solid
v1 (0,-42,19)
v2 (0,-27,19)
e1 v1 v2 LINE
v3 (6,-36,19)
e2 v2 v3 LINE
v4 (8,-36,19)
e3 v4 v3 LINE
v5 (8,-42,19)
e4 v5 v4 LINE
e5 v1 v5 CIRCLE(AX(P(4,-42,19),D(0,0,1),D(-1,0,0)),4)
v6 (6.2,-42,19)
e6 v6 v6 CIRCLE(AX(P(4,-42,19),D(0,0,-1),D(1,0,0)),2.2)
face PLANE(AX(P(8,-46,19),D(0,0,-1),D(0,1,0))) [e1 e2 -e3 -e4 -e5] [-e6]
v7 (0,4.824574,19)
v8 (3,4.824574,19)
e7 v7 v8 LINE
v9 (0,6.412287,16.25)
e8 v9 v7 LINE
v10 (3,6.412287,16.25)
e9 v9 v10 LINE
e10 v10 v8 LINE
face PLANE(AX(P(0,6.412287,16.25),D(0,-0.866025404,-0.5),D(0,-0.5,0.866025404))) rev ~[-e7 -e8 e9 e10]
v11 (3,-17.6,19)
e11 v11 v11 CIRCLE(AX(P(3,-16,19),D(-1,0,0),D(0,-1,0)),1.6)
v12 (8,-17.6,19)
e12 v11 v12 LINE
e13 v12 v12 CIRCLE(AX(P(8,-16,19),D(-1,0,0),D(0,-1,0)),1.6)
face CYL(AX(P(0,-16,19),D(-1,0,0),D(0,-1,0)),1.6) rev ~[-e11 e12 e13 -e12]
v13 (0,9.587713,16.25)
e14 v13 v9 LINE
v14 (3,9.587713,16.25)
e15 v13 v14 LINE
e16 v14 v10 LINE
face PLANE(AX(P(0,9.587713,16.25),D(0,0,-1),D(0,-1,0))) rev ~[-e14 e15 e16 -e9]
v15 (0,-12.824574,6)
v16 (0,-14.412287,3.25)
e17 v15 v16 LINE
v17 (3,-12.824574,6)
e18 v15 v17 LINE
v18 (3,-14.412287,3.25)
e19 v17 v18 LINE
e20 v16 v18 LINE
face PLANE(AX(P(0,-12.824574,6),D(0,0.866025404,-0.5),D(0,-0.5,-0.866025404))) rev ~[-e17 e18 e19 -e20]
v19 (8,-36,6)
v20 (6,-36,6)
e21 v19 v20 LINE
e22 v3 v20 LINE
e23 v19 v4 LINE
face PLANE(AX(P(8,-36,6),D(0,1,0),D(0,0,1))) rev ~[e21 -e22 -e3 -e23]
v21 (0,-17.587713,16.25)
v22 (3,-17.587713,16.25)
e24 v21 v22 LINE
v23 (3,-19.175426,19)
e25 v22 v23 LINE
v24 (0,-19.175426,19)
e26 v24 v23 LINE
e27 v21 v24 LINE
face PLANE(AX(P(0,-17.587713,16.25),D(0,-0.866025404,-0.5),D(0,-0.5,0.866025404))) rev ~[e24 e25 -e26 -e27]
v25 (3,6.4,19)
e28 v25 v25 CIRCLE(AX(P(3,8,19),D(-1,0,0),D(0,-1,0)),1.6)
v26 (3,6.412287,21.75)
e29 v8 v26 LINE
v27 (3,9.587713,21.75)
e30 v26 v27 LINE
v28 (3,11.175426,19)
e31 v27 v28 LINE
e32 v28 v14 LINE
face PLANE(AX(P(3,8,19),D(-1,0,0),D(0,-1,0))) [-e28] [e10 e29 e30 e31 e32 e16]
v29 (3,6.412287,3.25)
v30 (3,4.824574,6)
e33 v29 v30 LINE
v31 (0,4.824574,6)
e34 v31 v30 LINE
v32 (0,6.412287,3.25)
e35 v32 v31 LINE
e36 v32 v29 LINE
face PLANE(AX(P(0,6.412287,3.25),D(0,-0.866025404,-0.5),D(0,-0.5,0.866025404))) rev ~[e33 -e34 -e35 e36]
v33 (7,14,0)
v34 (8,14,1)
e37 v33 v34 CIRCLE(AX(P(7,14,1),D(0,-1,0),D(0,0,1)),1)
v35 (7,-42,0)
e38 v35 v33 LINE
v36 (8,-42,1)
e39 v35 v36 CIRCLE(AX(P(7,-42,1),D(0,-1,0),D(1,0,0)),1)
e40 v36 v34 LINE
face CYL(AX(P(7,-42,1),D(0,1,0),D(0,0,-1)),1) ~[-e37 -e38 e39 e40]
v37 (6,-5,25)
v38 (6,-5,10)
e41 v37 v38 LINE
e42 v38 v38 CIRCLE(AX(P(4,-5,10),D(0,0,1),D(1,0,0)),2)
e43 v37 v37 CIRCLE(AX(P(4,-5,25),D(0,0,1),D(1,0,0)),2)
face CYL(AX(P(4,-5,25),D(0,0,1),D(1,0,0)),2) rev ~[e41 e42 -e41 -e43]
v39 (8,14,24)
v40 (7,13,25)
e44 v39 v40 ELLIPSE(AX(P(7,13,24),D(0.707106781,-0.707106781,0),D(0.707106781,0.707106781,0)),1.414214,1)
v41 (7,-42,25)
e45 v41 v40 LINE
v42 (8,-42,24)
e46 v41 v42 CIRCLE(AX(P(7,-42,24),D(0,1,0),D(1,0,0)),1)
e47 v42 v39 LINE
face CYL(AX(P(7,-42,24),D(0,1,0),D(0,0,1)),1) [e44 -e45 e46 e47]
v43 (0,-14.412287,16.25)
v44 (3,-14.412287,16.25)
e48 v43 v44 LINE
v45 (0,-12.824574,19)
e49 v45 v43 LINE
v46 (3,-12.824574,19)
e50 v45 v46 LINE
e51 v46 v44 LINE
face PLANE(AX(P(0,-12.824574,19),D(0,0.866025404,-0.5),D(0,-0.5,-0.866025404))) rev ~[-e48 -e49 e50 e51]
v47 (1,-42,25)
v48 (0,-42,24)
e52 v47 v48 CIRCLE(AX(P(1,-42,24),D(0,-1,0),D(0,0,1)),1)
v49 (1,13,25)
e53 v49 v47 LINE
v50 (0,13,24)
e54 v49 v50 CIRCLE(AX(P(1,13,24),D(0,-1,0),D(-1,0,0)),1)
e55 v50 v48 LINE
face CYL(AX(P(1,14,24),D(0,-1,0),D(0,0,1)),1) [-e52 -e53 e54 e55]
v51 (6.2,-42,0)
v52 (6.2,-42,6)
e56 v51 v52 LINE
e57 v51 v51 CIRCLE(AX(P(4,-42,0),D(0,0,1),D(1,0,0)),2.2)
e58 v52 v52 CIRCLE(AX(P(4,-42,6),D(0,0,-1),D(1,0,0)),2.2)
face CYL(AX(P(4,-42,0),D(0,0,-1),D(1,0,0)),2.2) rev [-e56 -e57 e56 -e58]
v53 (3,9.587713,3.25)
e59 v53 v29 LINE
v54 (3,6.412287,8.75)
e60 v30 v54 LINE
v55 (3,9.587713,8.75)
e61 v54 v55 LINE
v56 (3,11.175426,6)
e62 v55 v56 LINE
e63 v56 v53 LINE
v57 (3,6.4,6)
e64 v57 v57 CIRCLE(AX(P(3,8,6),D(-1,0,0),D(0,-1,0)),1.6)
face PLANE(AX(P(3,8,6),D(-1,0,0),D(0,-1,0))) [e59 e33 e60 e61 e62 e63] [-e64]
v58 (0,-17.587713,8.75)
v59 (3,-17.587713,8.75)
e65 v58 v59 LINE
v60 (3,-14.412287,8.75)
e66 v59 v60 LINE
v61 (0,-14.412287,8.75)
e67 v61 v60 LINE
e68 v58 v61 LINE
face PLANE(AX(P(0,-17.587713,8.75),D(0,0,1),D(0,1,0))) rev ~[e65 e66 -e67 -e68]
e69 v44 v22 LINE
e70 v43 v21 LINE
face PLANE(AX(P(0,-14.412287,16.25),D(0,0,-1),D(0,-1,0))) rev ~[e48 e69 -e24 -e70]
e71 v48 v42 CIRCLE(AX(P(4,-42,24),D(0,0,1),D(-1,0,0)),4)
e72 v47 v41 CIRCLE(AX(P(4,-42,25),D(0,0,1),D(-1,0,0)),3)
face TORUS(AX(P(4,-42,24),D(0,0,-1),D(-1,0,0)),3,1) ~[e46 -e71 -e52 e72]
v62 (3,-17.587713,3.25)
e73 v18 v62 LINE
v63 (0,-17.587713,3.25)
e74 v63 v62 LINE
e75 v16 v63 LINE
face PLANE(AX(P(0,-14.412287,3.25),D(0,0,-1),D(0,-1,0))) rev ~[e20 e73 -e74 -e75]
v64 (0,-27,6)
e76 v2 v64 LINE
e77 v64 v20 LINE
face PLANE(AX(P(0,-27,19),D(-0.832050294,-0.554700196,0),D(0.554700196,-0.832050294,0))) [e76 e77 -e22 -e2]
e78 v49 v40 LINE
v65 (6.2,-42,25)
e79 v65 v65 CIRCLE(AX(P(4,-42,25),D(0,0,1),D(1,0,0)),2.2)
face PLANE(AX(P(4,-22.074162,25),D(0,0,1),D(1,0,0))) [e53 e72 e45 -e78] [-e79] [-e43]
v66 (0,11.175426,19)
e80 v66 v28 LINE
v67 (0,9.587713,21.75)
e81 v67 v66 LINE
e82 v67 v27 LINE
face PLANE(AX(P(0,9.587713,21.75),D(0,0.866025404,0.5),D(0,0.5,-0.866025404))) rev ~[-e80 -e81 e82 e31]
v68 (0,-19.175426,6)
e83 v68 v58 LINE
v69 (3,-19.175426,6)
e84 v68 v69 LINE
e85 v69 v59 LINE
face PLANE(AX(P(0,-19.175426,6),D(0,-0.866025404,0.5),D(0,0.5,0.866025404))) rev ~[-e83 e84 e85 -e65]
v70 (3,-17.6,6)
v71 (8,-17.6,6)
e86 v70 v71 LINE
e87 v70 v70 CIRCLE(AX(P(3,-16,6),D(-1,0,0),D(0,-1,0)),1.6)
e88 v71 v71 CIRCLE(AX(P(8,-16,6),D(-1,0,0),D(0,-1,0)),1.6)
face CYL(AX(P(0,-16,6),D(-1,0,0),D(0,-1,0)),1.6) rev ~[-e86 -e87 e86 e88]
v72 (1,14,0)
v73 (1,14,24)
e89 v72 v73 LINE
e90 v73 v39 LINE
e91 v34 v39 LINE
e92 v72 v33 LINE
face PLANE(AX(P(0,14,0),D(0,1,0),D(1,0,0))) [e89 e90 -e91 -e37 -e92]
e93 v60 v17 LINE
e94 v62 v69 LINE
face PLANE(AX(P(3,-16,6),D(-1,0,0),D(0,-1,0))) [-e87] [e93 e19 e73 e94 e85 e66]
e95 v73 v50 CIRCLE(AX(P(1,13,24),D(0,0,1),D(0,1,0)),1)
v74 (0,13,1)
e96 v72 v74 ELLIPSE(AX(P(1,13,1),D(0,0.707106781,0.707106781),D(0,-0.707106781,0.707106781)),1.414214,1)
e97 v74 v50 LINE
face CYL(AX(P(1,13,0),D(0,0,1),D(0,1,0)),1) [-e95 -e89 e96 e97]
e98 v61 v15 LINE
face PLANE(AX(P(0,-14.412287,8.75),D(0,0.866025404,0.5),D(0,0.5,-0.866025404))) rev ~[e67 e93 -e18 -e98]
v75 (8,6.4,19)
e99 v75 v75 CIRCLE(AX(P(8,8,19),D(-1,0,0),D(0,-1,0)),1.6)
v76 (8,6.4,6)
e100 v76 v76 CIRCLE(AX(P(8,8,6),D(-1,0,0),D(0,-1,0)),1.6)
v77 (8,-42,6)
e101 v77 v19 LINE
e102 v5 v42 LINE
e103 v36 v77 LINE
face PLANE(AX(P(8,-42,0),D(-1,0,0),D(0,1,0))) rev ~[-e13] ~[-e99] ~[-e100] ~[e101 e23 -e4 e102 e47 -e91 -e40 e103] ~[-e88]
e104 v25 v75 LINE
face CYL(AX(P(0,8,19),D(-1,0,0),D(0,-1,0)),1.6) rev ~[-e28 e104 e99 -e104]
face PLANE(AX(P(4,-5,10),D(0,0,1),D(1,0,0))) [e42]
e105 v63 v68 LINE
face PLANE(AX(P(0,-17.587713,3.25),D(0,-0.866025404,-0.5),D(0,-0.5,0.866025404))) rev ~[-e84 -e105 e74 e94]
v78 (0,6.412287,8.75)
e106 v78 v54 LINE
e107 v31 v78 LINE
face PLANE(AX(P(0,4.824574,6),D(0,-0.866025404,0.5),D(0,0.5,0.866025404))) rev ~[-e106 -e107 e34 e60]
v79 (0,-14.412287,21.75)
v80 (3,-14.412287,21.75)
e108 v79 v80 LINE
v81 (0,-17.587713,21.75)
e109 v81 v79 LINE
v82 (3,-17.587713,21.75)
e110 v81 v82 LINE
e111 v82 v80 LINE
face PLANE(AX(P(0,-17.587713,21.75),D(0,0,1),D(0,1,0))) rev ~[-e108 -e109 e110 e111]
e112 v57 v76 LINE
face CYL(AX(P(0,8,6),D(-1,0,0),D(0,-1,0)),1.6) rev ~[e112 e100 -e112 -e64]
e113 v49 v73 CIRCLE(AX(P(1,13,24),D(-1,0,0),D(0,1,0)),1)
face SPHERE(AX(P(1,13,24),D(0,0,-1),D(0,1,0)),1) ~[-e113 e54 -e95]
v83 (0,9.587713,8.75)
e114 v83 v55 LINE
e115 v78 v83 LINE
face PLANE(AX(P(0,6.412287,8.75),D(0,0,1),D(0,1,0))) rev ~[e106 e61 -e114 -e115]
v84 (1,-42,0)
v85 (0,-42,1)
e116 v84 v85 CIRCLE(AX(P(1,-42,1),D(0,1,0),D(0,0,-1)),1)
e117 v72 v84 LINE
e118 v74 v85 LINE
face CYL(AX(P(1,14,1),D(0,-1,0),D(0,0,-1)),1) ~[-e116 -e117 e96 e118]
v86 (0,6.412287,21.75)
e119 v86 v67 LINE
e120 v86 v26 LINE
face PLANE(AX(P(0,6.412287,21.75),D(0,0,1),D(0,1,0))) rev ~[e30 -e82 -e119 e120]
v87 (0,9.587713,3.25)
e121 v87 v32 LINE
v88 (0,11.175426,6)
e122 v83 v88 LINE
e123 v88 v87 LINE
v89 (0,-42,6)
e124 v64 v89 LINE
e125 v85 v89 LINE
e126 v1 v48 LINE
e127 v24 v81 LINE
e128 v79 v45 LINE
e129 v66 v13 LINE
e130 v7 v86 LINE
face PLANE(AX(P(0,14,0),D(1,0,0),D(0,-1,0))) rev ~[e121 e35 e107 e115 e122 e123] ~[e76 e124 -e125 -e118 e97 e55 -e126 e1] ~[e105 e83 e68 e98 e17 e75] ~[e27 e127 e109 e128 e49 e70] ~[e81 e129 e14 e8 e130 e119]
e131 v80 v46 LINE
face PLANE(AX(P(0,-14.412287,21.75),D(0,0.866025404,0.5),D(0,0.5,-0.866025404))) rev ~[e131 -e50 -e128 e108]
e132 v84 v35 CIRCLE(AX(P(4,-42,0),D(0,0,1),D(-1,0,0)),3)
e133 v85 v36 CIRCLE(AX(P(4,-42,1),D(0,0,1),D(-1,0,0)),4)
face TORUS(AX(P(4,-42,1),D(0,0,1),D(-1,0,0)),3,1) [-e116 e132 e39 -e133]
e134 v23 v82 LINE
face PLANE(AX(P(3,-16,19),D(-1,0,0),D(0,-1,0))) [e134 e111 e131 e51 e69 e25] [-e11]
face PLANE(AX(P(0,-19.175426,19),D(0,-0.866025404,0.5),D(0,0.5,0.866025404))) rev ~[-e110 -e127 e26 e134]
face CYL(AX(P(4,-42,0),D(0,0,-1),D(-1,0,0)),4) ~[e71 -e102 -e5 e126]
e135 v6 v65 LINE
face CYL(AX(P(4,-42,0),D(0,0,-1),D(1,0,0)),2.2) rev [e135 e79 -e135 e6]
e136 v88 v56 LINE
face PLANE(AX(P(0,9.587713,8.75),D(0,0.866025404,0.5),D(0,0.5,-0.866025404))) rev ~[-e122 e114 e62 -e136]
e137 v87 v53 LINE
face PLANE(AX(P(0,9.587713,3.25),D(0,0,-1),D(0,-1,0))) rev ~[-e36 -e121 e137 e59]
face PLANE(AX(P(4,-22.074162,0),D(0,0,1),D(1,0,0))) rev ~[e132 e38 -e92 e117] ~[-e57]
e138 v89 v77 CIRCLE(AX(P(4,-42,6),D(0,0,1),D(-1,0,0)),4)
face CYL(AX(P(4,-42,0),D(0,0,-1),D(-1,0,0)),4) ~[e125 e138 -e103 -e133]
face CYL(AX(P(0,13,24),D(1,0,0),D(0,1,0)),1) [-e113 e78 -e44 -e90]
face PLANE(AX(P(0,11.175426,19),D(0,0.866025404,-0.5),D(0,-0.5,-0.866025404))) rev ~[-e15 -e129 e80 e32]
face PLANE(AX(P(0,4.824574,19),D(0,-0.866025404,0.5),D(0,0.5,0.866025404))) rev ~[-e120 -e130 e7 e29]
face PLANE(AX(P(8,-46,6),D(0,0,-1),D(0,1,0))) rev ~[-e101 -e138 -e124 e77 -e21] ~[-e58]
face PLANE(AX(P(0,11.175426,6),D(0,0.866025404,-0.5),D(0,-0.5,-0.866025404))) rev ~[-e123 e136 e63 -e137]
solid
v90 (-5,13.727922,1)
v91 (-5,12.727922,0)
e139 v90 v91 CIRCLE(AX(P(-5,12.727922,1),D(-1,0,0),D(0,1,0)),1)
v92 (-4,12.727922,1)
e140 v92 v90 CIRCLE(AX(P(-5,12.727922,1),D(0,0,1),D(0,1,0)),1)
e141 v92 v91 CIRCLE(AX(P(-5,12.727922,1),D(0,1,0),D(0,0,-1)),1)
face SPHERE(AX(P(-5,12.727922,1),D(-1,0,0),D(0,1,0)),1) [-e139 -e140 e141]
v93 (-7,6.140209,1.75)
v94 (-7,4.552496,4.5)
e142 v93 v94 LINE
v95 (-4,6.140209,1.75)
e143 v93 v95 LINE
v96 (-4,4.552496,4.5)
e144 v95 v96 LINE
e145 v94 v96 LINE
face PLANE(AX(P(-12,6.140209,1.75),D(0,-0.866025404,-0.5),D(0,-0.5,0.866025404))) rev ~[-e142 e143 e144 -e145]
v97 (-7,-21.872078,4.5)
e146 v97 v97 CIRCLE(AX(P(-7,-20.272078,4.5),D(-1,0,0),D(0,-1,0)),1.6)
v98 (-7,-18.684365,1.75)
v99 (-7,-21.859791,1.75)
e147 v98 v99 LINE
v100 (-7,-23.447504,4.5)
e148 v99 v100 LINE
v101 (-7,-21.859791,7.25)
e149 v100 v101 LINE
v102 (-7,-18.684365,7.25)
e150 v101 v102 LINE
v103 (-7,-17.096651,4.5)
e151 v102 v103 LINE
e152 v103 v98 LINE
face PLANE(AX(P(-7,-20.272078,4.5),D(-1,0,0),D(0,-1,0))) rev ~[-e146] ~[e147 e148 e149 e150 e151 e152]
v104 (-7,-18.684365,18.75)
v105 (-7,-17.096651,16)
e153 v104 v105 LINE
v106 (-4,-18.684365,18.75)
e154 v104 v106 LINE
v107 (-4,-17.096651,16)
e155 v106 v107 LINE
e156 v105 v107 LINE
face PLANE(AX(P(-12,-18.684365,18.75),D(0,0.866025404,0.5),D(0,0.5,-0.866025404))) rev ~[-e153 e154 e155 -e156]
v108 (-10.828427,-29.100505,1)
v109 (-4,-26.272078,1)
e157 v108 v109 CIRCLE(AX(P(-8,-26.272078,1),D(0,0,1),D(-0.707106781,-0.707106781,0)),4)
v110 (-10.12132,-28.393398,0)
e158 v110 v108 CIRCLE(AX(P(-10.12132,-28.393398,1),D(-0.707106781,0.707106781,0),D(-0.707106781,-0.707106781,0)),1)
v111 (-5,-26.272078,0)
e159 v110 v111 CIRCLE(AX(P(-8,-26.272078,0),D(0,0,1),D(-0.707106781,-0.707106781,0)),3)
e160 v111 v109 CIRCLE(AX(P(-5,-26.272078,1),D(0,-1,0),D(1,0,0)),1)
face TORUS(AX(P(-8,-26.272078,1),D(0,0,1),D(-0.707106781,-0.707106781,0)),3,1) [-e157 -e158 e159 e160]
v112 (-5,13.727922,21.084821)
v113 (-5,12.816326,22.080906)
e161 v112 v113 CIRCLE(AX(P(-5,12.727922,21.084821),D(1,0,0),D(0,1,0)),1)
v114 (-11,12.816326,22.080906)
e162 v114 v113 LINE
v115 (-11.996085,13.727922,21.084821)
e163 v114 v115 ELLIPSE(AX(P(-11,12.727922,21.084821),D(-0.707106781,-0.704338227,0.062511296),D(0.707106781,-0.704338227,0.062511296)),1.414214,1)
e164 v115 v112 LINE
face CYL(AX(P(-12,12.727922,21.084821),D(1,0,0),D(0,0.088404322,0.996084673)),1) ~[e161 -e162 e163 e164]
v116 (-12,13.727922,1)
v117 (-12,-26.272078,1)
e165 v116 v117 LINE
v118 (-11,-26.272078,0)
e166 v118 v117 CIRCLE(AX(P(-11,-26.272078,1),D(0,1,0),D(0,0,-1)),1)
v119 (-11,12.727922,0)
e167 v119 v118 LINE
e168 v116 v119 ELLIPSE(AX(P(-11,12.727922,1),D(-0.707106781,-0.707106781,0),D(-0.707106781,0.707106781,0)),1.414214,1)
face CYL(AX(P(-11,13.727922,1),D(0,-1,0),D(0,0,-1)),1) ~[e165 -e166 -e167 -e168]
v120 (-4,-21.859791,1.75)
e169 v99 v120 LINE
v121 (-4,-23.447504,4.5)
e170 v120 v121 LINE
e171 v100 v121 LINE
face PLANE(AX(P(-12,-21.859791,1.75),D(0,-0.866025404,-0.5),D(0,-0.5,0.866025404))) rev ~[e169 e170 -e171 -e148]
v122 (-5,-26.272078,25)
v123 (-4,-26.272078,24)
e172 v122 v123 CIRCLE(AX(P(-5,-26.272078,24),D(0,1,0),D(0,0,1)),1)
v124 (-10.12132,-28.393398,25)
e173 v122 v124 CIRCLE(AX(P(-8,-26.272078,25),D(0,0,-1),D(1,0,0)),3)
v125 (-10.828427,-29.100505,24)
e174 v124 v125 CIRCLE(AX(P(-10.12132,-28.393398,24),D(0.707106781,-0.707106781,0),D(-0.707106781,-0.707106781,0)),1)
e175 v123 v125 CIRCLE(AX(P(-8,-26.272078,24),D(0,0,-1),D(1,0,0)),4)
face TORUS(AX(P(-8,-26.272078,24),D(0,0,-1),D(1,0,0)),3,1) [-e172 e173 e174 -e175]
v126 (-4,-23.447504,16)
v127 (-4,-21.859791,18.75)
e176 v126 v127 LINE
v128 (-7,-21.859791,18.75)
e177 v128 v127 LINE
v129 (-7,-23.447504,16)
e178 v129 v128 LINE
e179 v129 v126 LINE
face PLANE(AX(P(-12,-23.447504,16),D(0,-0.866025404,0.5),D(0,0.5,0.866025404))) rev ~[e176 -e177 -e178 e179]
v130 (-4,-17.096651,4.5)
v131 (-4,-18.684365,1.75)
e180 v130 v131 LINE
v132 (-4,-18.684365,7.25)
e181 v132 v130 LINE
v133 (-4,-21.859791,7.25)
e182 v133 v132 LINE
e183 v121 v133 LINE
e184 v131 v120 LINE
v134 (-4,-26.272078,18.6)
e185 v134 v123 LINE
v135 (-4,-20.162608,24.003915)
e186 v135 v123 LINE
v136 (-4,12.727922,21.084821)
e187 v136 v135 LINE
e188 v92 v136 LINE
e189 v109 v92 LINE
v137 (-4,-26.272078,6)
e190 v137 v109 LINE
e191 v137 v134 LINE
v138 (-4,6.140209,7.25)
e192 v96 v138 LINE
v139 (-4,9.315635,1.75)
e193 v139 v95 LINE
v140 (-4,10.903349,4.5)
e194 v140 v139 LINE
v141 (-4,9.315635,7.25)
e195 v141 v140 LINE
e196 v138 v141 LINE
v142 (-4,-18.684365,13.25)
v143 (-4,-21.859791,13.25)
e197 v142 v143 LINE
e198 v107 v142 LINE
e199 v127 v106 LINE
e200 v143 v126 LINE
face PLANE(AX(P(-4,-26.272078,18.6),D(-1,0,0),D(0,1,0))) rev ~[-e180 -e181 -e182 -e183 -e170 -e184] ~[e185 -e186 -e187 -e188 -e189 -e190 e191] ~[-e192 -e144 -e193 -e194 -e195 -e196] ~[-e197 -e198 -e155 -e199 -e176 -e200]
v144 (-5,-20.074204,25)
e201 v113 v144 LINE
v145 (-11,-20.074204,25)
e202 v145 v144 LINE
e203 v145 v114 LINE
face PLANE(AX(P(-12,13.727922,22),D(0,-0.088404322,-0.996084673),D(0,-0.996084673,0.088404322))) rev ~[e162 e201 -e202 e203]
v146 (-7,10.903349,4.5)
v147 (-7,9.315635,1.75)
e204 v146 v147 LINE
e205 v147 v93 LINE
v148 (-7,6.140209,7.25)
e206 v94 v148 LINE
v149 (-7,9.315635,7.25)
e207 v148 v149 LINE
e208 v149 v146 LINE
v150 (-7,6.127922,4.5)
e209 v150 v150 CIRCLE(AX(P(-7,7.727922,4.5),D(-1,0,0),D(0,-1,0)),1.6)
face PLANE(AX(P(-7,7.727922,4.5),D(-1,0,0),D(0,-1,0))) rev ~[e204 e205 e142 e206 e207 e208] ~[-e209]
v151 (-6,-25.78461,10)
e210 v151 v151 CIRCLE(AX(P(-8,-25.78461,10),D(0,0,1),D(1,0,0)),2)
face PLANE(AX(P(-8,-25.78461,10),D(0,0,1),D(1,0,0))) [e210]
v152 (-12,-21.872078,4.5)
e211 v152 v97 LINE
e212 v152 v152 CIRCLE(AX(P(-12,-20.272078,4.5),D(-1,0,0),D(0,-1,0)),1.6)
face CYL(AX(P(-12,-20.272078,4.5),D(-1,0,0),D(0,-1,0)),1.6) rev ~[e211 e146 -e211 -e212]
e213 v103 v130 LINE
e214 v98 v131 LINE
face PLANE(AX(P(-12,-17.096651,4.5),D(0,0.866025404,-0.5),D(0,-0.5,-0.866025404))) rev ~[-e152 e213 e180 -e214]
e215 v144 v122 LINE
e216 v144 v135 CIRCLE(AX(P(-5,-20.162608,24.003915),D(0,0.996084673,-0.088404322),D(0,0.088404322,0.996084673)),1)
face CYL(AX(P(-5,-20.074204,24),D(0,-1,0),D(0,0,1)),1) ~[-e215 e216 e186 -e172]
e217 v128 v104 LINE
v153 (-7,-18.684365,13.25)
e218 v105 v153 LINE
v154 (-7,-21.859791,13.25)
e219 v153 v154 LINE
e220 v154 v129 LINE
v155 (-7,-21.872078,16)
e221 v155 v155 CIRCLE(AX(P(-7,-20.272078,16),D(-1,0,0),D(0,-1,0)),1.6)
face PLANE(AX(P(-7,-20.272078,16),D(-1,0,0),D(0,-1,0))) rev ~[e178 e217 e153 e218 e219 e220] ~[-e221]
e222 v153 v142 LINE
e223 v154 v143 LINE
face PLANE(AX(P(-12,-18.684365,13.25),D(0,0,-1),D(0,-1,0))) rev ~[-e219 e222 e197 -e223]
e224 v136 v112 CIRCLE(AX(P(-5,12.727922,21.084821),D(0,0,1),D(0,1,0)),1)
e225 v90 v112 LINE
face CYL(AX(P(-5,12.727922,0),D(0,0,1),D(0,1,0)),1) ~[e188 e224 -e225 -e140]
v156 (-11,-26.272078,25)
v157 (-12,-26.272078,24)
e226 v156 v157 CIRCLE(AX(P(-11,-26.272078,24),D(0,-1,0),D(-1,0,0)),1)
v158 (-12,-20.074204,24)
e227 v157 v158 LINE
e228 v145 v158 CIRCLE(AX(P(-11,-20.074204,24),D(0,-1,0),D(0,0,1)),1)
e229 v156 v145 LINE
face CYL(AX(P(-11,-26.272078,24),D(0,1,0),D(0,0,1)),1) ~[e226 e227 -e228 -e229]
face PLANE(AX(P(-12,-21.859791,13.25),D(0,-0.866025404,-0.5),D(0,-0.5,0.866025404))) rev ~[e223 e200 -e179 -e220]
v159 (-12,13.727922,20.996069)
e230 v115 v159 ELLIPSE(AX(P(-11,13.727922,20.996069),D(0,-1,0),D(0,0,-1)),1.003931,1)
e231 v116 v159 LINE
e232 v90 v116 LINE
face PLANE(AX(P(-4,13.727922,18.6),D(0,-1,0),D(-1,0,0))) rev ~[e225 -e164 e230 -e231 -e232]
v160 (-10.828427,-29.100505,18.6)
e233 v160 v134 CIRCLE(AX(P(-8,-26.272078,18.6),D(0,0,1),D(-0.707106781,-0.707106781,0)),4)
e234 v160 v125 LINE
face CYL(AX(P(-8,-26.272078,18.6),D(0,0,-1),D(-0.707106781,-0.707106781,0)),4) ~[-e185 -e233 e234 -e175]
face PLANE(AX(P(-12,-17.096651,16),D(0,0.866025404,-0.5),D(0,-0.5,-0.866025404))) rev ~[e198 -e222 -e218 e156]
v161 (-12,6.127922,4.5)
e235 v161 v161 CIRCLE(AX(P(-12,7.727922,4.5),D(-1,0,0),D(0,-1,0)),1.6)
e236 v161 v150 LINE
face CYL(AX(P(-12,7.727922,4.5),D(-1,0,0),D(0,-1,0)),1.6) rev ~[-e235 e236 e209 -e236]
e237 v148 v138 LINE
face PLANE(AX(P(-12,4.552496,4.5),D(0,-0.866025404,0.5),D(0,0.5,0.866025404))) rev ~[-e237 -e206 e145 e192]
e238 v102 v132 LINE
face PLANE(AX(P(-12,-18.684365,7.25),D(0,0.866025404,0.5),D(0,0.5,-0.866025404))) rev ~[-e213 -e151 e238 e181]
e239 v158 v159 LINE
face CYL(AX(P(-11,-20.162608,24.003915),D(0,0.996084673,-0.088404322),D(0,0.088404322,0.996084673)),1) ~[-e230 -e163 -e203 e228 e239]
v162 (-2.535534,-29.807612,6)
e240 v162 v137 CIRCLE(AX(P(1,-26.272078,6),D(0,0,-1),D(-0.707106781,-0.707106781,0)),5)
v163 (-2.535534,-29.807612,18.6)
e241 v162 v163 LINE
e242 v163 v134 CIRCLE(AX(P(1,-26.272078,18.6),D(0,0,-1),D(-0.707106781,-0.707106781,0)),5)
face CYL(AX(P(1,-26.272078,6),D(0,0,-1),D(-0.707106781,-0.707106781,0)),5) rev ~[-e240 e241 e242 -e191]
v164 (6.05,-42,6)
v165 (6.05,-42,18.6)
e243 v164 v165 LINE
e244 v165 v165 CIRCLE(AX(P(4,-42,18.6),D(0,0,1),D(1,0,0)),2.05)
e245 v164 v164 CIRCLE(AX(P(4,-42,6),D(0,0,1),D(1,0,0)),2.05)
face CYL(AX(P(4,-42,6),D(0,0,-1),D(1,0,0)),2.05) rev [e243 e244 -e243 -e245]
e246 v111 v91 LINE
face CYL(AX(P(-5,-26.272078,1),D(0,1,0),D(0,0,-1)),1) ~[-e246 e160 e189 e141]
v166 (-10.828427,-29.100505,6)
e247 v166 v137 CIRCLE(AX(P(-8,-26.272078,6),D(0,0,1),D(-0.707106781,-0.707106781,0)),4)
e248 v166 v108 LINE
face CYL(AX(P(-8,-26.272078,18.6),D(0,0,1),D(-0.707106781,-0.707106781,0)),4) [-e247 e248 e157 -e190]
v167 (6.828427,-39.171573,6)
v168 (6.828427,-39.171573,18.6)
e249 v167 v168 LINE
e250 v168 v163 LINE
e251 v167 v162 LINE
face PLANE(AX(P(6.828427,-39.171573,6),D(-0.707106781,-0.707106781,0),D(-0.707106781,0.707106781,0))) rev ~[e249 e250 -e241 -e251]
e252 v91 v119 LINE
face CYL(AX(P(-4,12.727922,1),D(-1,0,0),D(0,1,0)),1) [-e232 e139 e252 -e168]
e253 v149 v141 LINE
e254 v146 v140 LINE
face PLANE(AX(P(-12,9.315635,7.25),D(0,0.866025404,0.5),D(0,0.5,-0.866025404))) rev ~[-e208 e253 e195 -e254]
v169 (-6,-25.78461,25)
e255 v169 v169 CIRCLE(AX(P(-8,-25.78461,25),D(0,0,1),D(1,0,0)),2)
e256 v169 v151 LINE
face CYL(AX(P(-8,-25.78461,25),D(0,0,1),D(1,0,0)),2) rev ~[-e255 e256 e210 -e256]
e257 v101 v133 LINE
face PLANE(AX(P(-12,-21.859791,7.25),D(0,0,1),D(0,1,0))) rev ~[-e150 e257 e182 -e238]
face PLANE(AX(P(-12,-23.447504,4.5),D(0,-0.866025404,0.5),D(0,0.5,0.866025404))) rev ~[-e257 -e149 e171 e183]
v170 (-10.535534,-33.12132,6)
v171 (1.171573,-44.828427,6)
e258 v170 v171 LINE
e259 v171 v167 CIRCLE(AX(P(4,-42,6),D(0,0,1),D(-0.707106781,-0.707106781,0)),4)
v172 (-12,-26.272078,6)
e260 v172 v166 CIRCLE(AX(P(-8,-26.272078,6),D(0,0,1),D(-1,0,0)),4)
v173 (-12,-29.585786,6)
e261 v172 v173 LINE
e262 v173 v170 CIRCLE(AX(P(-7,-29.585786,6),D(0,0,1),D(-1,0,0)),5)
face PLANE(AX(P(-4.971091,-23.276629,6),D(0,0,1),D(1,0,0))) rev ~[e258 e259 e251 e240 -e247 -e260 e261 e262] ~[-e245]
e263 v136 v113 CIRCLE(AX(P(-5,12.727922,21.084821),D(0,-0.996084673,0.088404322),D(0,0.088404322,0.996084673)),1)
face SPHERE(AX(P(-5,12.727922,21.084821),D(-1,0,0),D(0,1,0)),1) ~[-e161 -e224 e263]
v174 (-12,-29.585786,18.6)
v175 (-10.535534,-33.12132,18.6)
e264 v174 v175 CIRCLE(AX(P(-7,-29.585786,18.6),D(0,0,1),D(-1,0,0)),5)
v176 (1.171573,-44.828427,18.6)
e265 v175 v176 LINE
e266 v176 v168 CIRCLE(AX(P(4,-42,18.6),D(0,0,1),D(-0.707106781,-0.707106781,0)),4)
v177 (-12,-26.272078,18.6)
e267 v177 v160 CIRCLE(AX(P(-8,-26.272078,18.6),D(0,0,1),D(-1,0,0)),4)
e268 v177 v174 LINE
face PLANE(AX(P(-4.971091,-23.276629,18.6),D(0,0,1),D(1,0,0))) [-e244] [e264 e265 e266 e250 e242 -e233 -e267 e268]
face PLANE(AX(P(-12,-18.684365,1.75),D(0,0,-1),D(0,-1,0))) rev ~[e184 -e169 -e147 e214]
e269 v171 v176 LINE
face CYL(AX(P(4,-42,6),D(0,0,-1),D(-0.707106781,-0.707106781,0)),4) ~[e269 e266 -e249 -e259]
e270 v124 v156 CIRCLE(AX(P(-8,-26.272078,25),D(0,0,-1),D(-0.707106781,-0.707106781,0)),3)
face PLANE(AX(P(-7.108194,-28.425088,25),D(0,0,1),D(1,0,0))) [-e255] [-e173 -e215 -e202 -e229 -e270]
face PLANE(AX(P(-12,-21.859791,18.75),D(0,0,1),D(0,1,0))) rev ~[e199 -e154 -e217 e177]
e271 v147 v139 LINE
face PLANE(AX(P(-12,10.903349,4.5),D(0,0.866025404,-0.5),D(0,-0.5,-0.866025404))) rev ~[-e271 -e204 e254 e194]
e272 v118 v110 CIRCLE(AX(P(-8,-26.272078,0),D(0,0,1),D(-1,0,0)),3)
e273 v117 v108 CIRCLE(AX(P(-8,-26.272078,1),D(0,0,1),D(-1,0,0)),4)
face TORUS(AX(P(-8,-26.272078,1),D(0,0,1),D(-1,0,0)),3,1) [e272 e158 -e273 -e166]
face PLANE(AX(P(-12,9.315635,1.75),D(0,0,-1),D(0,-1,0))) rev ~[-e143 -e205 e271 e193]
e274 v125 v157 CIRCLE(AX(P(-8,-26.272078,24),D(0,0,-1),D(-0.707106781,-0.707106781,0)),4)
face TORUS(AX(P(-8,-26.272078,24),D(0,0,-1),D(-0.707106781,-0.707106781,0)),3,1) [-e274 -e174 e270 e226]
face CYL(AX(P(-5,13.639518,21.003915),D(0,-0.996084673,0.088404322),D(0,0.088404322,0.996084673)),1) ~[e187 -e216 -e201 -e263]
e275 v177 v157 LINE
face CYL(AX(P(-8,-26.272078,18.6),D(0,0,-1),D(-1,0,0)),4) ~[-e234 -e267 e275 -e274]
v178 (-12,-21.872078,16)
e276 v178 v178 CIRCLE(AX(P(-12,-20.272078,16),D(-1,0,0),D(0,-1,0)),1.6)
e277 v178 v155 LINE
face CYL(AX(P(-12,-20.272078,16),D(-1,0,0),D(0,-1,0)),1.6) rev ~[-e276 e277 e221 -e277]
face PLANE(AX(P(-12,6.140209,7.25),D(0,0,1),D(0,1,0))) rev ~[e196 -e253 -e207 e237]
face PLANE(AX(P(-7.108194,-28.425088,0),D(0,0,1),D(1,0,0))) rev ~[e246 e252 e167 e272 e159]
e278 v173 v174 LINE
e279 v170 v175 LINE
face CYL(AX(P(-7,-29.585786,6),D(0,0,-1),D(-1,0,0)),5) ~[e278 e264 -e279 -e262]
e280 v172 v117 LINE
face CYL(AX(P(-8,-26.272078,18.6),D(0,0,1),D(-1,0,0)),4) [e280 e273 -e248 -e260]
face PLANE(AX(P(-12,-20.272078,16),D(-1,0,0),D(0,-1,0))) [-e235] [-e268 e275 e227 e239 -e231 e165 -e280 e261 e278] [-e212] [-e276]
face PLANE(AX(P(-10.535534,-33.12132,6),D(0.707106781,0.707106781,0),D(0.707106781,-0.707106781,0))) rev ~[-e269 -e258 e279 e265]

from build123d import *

# Parameters (mm, degrees)
F0_R           = 2.2
F0_W           = 8
F0_H           = 14
F1_DEPTH       = 25
F2_W           = 10
F2_H           = 13
F3_DEPTH       = 25
F5_DEPTH       = 13
F6_R           = 2.05
F6_W           = 8
F6_H           = 13.7279220614
F7_DEPTH       = 12.6
F8_R           = 2
F9_DEPTH       = 15
F11_DEPTH      = 6.4
F11_DEPTH_BACK = 18.6
F12_R          = 2
F13_DEPTH      = 15
F14_R          = 1.6
F15_DEPTH      = 8
F16_DEPTH      = 5
F17_R          = 1.6
F18_DEPTH      = 8
F19_DEPTH      = 3
F20_R          = 1
F20_2_R        = 1


with BuildPart() as f1:
    # F0 (on Top) → F1 (new body)
    with BuildSketch(Plane.XY):
        with BuildLine():
            Line((8, 0), (0, 0))
            Line((0, 0), (0, -42))
            ThreePointArc((0, -42), (4, -46), (8, -42))
            Line((8, -42), (8, 0))
        make_face()
        with Locations((4, -42)):
            Circle(F0_R, mode=Mode.SUBTRACT)
        with Locations((4, 7)):
            Rectangle(F0_W, F0_H)
    extrude(amount=F1_DEPTH)

    # F2 (on face) → F3 (cut)
    with BuildSketch(Plane.YZ.offset(8)):
        with Locations((-41, 12.5)):
            Rectangle(F2_W, F2_H)
    extrude(amount=-F3_DEPTH, mode=Mode.SUBTRACT)

    # F4 (on face) → F5 (cut, through all)
    with BuildSketch(Plane(origin=(0, 0, 19), x_dir=(1, 0, 0), z_dir=(0, 0, -1))):
        Polygon((6, 36), (0, 36), (0, 27), align=None)
    extrude(amount=F5_DEPTH, mode=Mode.SUBTRACT)

    # F8 (on face) → F9 (cut)
    with BuildSketch(Plane.XY.offset(25)):
        with Locations((4, -5)):
            Circle(F8_R)
    extrude(amount=-F9_DEPTH, mode=Mode.SUBTRACT)

    # F17 (on face) → F18 (cut, through all)
    with BuildSketch(Plane(origin=(0, 0, 0), x_dir=(0, -1, 0), z_dir=(-1, 0, 0))):
        with Locations((-8, 19)):
            Circle(F17_R)
        with Locations((16, 19)):
            Circle(F17_R)
        with Locations((16, 6)):
            Circle(F17_R)
        with Locations((-8, 6)):
            Circle(F17_R)
    extrude(amount=-F18_DEPTH, mode=Mode.SUBTRACT)

    # F17 (on face) → F19 (cut)
    with BuildSketch(Plane(origin=(0, 0, 0), x_dir=(0, -1, 0), z_dir=(-1, 0, 0))):
        Polygon((-9.5877132403, 16.25), (-6.4122867597, 16.25), (-4.8245735195, 19), (-6.4122867597, 21.75), (-9.5877132403, 21.75), (-11.1754264805, 19), align=None)
        with Locations((-8, 19)):
            Circle(F17_R, mode=Mode.SUBTRACT)
        Polygon((-9.5877132403, 3.25), (-6.4122867597, 3.25), (-4.8245735195, 6), (-6.4122867597, 8.75), (-9.5877132403, 8.75), (-11.1754264805, 6), align=None)
        with Locations((-8, 6)):
            Circle(F17_R, mode=Mode.SUBTRACT)
        Polygon((14.4122867597, 3.25), (17.5877132403, 3.25), (19.1754264805, 6), (17.5877132403, 8.75), (14.4122867597, 8.75), (12.8245735195, 6), align=None)
        with Locations((16, 6)):
            Circle(F17_R, mode=Mode.SUBTRACT)
        Polygon((14.4122867597, 16.25), (17.5877132403, 16.25), (19.1754264805, 19), (17.5877132403, 21.75), (14.4122867597, 21.75), (12.8245735195, 19), align=None)
        with Locations((16, 19)):
            Circle(F17_R, mode=Mode.SUBTRACT)
    extrude(amount=-F19_DEPTH, mode=Mode.SUBTRACT)

    # F20#2
    f20_2_edges = [f1.edges().sort_by_distance(p)[0] for p in [
        (0, 14, 12.5),
        (4, 14, 25),
        (0, -14, 25),
        (0, -14, 0),
    ]]
    fillet(f20_2_edges, radius=F20_2_R)


with BuildPart() as f7:
    # F6 (on face) → F7 (new body)
    with BuildSketch(Plane.XY.offset(6)):
        with BuildLine():
            Line((-10.5355339059, -33.1213203436), (1.1715728753, -44.8284271247))
            ThreePointArc((1.1715728753, -44.8284271247), (6.8284271247, -44.8284271247), (6.8284271247, -39.1715728753))
            Line((6.8284271247, -39.1715728753), (-2.5355339059, -29.8076118446))
            ThreePointArc((-2.5355339059, -29.8076118446), (-3.6193976626, -28.1854951005), (-4, -26.2720779386))
            Line((-4, -26.2720779386), (-4, 0))
            Line((-4, 0), (-12, 0))
            Line((-12, 0), (-12, -29.5857864376))
            ThreePointArc((-12, -29.5857864376), (-11.6193976626, -31.4992035995), (-10.5355339059, -33.1213203436))
        make_face()
        with Locations((4, -42)):
            Circle(F6_R, mode=Mode.SUBTRACT)
        with Locations((-8, 6.8639610307)):
            Rectangle(F6_W, F6_H)
    extrude(amount=F7_DEPTH)

    # F10 (on face) → F11 (join, two sides)
    with BuildSketch(Plane.XY.offset(18.6)) as f11_sk:
        with BuildLine():
            Line((-4, -26.2720779386), (-10.8284271247, -29.1005050634))
            ThreePointArc((-10.8284271247, -29.1005050634), (-6.4692662705, -29.9675960687), (-4, -26.2720779386))
        make_face()
        with BuildLine():
            ThreePointArc((-12, -26.2720779386), (-11.69551813, -27.8028116681), (-10.8284271247, -29.1005050634))
            Line((-10.8284271247, -29.1005050634), (-4, -26.2720779386))
            Line((-4, -26.2720779386), (-4, 13.7279220614))
            Line((-4, 13.7279220614), (-12, 13.7279220614))
            Line((-12, 13.7279220614), (-12, -26.2720779386))
        make_face()
    extrude(amount=F11_DEPTH)
    extrude(f11_sk.sketch, amount=-F11_DEPTH_BACK)

    # F12 (on face) → F13 (cut)
    with BuildSketch(Plane.XY.offset(25)):
        with Locations((-8, -25.7846096908)):
            Circle(F12_R)
    extrude(amount=-F13_DEPTH, mode=Mode.SUBTRACT)

    # F14 (on face) → F15 (cut, through all)
    with BuildSketch(Plane(origin=(-12, 0, 0), x_dir=(0, -1, 0), z_dir=(-1, 0, 0))):
        Polygon((-13.7279220614, 25), (-13.7279220614, 22), (20.0742036104, 25), align=None)
        Polygon((-9.3156353016, 1.75), (-6.1402088211, 1.75), (-4.5524955808, 4.5), (-6.1402088211, 7.25), (-9.3156353016, 7.25), (-10.9033485419, 4.5), align=None)
        with Locations((-7.7279220614, 4.5)):
            Circle(F14_R, mode=Mode.SUBTRACT)
        Polygon((18.6843646984, 1.75), (21.8597911789, 1.75), (23.4475044192, 4.5), (21.8597911789, 7.25), (18.6843646984, 7.25), (17.0966514581, 4.5), align=None)
        with Locations((20.2720779386, 4.5)):
            Circle(F14_R, mode=Mode.SUBTRACT)
        Polygon((18.6843646984, 13.25), (21.8597911789, 13.25), (23.4475044192, 16), (21.8597911789, 18.75), (18.6843646984, 18.75), (17.0966514581, 16), align=None)
        with Locations((20.2720779386, 16)):
            Circle(F14_R, mode=Mode.SUBTRACT)
        with Locations((-7.7279220614, 4.5)):
            Circle(F14_R)
        with Locations((20.2720779386, 4.5)):
            Circle(F14_R)
        with Locations((20.2720779386, 16)):
            Circle(F14_R)
    extrude(amount=-F15_DEPTH, mode=Mode.SUBTRACT)

    # F14 (on face) → F16 (join)
    with BuildSketch(Plane(origin=(-12, 0, 0), x_dir=(0, -1, 0), z_dir=(-1, 0, 0))):
        Polygon((18.6843646984, 13.25), (21.8597911789, 13.25), (23.4475044192, 16), (21.8597911789, 18.75), (18.6843646984, 18.75), (17.0966514581, 16), align=None)
        with Locations((20.2720779386, 16)):
            Circle(F14_R, mode=Mode.SUBTRACT)
        Polygon((18.6843646984, 1.75), (21.8597911789, 1.75), (23.4475044192, 4.5), (21.8597911789, 7.25), (18.6843646984, 7.25), (17.0966514581, 4.5), align=None)
        with Locations((20.2720779386, 4.5)):
            Circle(F14_R, mode=Mode.SUBTRACT)
        Polygon((-9.3156353016, 1.75), (-6.1402088211, 1.75), (-4.5524955808, 4.5), (-6.1402088211, 7.25), (-9.3156353016, 7.25), (-10.9033485419, 4.5), align=None)
        with Locations((-7.7279220614, 4.5)):
            Circle(F14_R, mode=Mode.SUBTRACT)
    extrude(amount=-F16_DEPTH)

    # F20
    f20_edges = [f7.edges().sort_by_distance(p)[0] for p in [
        (-8, 13.727922, 22),
        (-8, 13.727922, 0),
        (-4, 13.727922, 11),
        (-4, -6.272078, 0),
        (-4, -3.173141, 23.5),
        (-12, -3.173141, 23.5),
        (-8, -30.272078, 25),
    ]]
    fillet(f20_edges, radius=F20_R)


solid = Compound([f1.part, f7.part])
